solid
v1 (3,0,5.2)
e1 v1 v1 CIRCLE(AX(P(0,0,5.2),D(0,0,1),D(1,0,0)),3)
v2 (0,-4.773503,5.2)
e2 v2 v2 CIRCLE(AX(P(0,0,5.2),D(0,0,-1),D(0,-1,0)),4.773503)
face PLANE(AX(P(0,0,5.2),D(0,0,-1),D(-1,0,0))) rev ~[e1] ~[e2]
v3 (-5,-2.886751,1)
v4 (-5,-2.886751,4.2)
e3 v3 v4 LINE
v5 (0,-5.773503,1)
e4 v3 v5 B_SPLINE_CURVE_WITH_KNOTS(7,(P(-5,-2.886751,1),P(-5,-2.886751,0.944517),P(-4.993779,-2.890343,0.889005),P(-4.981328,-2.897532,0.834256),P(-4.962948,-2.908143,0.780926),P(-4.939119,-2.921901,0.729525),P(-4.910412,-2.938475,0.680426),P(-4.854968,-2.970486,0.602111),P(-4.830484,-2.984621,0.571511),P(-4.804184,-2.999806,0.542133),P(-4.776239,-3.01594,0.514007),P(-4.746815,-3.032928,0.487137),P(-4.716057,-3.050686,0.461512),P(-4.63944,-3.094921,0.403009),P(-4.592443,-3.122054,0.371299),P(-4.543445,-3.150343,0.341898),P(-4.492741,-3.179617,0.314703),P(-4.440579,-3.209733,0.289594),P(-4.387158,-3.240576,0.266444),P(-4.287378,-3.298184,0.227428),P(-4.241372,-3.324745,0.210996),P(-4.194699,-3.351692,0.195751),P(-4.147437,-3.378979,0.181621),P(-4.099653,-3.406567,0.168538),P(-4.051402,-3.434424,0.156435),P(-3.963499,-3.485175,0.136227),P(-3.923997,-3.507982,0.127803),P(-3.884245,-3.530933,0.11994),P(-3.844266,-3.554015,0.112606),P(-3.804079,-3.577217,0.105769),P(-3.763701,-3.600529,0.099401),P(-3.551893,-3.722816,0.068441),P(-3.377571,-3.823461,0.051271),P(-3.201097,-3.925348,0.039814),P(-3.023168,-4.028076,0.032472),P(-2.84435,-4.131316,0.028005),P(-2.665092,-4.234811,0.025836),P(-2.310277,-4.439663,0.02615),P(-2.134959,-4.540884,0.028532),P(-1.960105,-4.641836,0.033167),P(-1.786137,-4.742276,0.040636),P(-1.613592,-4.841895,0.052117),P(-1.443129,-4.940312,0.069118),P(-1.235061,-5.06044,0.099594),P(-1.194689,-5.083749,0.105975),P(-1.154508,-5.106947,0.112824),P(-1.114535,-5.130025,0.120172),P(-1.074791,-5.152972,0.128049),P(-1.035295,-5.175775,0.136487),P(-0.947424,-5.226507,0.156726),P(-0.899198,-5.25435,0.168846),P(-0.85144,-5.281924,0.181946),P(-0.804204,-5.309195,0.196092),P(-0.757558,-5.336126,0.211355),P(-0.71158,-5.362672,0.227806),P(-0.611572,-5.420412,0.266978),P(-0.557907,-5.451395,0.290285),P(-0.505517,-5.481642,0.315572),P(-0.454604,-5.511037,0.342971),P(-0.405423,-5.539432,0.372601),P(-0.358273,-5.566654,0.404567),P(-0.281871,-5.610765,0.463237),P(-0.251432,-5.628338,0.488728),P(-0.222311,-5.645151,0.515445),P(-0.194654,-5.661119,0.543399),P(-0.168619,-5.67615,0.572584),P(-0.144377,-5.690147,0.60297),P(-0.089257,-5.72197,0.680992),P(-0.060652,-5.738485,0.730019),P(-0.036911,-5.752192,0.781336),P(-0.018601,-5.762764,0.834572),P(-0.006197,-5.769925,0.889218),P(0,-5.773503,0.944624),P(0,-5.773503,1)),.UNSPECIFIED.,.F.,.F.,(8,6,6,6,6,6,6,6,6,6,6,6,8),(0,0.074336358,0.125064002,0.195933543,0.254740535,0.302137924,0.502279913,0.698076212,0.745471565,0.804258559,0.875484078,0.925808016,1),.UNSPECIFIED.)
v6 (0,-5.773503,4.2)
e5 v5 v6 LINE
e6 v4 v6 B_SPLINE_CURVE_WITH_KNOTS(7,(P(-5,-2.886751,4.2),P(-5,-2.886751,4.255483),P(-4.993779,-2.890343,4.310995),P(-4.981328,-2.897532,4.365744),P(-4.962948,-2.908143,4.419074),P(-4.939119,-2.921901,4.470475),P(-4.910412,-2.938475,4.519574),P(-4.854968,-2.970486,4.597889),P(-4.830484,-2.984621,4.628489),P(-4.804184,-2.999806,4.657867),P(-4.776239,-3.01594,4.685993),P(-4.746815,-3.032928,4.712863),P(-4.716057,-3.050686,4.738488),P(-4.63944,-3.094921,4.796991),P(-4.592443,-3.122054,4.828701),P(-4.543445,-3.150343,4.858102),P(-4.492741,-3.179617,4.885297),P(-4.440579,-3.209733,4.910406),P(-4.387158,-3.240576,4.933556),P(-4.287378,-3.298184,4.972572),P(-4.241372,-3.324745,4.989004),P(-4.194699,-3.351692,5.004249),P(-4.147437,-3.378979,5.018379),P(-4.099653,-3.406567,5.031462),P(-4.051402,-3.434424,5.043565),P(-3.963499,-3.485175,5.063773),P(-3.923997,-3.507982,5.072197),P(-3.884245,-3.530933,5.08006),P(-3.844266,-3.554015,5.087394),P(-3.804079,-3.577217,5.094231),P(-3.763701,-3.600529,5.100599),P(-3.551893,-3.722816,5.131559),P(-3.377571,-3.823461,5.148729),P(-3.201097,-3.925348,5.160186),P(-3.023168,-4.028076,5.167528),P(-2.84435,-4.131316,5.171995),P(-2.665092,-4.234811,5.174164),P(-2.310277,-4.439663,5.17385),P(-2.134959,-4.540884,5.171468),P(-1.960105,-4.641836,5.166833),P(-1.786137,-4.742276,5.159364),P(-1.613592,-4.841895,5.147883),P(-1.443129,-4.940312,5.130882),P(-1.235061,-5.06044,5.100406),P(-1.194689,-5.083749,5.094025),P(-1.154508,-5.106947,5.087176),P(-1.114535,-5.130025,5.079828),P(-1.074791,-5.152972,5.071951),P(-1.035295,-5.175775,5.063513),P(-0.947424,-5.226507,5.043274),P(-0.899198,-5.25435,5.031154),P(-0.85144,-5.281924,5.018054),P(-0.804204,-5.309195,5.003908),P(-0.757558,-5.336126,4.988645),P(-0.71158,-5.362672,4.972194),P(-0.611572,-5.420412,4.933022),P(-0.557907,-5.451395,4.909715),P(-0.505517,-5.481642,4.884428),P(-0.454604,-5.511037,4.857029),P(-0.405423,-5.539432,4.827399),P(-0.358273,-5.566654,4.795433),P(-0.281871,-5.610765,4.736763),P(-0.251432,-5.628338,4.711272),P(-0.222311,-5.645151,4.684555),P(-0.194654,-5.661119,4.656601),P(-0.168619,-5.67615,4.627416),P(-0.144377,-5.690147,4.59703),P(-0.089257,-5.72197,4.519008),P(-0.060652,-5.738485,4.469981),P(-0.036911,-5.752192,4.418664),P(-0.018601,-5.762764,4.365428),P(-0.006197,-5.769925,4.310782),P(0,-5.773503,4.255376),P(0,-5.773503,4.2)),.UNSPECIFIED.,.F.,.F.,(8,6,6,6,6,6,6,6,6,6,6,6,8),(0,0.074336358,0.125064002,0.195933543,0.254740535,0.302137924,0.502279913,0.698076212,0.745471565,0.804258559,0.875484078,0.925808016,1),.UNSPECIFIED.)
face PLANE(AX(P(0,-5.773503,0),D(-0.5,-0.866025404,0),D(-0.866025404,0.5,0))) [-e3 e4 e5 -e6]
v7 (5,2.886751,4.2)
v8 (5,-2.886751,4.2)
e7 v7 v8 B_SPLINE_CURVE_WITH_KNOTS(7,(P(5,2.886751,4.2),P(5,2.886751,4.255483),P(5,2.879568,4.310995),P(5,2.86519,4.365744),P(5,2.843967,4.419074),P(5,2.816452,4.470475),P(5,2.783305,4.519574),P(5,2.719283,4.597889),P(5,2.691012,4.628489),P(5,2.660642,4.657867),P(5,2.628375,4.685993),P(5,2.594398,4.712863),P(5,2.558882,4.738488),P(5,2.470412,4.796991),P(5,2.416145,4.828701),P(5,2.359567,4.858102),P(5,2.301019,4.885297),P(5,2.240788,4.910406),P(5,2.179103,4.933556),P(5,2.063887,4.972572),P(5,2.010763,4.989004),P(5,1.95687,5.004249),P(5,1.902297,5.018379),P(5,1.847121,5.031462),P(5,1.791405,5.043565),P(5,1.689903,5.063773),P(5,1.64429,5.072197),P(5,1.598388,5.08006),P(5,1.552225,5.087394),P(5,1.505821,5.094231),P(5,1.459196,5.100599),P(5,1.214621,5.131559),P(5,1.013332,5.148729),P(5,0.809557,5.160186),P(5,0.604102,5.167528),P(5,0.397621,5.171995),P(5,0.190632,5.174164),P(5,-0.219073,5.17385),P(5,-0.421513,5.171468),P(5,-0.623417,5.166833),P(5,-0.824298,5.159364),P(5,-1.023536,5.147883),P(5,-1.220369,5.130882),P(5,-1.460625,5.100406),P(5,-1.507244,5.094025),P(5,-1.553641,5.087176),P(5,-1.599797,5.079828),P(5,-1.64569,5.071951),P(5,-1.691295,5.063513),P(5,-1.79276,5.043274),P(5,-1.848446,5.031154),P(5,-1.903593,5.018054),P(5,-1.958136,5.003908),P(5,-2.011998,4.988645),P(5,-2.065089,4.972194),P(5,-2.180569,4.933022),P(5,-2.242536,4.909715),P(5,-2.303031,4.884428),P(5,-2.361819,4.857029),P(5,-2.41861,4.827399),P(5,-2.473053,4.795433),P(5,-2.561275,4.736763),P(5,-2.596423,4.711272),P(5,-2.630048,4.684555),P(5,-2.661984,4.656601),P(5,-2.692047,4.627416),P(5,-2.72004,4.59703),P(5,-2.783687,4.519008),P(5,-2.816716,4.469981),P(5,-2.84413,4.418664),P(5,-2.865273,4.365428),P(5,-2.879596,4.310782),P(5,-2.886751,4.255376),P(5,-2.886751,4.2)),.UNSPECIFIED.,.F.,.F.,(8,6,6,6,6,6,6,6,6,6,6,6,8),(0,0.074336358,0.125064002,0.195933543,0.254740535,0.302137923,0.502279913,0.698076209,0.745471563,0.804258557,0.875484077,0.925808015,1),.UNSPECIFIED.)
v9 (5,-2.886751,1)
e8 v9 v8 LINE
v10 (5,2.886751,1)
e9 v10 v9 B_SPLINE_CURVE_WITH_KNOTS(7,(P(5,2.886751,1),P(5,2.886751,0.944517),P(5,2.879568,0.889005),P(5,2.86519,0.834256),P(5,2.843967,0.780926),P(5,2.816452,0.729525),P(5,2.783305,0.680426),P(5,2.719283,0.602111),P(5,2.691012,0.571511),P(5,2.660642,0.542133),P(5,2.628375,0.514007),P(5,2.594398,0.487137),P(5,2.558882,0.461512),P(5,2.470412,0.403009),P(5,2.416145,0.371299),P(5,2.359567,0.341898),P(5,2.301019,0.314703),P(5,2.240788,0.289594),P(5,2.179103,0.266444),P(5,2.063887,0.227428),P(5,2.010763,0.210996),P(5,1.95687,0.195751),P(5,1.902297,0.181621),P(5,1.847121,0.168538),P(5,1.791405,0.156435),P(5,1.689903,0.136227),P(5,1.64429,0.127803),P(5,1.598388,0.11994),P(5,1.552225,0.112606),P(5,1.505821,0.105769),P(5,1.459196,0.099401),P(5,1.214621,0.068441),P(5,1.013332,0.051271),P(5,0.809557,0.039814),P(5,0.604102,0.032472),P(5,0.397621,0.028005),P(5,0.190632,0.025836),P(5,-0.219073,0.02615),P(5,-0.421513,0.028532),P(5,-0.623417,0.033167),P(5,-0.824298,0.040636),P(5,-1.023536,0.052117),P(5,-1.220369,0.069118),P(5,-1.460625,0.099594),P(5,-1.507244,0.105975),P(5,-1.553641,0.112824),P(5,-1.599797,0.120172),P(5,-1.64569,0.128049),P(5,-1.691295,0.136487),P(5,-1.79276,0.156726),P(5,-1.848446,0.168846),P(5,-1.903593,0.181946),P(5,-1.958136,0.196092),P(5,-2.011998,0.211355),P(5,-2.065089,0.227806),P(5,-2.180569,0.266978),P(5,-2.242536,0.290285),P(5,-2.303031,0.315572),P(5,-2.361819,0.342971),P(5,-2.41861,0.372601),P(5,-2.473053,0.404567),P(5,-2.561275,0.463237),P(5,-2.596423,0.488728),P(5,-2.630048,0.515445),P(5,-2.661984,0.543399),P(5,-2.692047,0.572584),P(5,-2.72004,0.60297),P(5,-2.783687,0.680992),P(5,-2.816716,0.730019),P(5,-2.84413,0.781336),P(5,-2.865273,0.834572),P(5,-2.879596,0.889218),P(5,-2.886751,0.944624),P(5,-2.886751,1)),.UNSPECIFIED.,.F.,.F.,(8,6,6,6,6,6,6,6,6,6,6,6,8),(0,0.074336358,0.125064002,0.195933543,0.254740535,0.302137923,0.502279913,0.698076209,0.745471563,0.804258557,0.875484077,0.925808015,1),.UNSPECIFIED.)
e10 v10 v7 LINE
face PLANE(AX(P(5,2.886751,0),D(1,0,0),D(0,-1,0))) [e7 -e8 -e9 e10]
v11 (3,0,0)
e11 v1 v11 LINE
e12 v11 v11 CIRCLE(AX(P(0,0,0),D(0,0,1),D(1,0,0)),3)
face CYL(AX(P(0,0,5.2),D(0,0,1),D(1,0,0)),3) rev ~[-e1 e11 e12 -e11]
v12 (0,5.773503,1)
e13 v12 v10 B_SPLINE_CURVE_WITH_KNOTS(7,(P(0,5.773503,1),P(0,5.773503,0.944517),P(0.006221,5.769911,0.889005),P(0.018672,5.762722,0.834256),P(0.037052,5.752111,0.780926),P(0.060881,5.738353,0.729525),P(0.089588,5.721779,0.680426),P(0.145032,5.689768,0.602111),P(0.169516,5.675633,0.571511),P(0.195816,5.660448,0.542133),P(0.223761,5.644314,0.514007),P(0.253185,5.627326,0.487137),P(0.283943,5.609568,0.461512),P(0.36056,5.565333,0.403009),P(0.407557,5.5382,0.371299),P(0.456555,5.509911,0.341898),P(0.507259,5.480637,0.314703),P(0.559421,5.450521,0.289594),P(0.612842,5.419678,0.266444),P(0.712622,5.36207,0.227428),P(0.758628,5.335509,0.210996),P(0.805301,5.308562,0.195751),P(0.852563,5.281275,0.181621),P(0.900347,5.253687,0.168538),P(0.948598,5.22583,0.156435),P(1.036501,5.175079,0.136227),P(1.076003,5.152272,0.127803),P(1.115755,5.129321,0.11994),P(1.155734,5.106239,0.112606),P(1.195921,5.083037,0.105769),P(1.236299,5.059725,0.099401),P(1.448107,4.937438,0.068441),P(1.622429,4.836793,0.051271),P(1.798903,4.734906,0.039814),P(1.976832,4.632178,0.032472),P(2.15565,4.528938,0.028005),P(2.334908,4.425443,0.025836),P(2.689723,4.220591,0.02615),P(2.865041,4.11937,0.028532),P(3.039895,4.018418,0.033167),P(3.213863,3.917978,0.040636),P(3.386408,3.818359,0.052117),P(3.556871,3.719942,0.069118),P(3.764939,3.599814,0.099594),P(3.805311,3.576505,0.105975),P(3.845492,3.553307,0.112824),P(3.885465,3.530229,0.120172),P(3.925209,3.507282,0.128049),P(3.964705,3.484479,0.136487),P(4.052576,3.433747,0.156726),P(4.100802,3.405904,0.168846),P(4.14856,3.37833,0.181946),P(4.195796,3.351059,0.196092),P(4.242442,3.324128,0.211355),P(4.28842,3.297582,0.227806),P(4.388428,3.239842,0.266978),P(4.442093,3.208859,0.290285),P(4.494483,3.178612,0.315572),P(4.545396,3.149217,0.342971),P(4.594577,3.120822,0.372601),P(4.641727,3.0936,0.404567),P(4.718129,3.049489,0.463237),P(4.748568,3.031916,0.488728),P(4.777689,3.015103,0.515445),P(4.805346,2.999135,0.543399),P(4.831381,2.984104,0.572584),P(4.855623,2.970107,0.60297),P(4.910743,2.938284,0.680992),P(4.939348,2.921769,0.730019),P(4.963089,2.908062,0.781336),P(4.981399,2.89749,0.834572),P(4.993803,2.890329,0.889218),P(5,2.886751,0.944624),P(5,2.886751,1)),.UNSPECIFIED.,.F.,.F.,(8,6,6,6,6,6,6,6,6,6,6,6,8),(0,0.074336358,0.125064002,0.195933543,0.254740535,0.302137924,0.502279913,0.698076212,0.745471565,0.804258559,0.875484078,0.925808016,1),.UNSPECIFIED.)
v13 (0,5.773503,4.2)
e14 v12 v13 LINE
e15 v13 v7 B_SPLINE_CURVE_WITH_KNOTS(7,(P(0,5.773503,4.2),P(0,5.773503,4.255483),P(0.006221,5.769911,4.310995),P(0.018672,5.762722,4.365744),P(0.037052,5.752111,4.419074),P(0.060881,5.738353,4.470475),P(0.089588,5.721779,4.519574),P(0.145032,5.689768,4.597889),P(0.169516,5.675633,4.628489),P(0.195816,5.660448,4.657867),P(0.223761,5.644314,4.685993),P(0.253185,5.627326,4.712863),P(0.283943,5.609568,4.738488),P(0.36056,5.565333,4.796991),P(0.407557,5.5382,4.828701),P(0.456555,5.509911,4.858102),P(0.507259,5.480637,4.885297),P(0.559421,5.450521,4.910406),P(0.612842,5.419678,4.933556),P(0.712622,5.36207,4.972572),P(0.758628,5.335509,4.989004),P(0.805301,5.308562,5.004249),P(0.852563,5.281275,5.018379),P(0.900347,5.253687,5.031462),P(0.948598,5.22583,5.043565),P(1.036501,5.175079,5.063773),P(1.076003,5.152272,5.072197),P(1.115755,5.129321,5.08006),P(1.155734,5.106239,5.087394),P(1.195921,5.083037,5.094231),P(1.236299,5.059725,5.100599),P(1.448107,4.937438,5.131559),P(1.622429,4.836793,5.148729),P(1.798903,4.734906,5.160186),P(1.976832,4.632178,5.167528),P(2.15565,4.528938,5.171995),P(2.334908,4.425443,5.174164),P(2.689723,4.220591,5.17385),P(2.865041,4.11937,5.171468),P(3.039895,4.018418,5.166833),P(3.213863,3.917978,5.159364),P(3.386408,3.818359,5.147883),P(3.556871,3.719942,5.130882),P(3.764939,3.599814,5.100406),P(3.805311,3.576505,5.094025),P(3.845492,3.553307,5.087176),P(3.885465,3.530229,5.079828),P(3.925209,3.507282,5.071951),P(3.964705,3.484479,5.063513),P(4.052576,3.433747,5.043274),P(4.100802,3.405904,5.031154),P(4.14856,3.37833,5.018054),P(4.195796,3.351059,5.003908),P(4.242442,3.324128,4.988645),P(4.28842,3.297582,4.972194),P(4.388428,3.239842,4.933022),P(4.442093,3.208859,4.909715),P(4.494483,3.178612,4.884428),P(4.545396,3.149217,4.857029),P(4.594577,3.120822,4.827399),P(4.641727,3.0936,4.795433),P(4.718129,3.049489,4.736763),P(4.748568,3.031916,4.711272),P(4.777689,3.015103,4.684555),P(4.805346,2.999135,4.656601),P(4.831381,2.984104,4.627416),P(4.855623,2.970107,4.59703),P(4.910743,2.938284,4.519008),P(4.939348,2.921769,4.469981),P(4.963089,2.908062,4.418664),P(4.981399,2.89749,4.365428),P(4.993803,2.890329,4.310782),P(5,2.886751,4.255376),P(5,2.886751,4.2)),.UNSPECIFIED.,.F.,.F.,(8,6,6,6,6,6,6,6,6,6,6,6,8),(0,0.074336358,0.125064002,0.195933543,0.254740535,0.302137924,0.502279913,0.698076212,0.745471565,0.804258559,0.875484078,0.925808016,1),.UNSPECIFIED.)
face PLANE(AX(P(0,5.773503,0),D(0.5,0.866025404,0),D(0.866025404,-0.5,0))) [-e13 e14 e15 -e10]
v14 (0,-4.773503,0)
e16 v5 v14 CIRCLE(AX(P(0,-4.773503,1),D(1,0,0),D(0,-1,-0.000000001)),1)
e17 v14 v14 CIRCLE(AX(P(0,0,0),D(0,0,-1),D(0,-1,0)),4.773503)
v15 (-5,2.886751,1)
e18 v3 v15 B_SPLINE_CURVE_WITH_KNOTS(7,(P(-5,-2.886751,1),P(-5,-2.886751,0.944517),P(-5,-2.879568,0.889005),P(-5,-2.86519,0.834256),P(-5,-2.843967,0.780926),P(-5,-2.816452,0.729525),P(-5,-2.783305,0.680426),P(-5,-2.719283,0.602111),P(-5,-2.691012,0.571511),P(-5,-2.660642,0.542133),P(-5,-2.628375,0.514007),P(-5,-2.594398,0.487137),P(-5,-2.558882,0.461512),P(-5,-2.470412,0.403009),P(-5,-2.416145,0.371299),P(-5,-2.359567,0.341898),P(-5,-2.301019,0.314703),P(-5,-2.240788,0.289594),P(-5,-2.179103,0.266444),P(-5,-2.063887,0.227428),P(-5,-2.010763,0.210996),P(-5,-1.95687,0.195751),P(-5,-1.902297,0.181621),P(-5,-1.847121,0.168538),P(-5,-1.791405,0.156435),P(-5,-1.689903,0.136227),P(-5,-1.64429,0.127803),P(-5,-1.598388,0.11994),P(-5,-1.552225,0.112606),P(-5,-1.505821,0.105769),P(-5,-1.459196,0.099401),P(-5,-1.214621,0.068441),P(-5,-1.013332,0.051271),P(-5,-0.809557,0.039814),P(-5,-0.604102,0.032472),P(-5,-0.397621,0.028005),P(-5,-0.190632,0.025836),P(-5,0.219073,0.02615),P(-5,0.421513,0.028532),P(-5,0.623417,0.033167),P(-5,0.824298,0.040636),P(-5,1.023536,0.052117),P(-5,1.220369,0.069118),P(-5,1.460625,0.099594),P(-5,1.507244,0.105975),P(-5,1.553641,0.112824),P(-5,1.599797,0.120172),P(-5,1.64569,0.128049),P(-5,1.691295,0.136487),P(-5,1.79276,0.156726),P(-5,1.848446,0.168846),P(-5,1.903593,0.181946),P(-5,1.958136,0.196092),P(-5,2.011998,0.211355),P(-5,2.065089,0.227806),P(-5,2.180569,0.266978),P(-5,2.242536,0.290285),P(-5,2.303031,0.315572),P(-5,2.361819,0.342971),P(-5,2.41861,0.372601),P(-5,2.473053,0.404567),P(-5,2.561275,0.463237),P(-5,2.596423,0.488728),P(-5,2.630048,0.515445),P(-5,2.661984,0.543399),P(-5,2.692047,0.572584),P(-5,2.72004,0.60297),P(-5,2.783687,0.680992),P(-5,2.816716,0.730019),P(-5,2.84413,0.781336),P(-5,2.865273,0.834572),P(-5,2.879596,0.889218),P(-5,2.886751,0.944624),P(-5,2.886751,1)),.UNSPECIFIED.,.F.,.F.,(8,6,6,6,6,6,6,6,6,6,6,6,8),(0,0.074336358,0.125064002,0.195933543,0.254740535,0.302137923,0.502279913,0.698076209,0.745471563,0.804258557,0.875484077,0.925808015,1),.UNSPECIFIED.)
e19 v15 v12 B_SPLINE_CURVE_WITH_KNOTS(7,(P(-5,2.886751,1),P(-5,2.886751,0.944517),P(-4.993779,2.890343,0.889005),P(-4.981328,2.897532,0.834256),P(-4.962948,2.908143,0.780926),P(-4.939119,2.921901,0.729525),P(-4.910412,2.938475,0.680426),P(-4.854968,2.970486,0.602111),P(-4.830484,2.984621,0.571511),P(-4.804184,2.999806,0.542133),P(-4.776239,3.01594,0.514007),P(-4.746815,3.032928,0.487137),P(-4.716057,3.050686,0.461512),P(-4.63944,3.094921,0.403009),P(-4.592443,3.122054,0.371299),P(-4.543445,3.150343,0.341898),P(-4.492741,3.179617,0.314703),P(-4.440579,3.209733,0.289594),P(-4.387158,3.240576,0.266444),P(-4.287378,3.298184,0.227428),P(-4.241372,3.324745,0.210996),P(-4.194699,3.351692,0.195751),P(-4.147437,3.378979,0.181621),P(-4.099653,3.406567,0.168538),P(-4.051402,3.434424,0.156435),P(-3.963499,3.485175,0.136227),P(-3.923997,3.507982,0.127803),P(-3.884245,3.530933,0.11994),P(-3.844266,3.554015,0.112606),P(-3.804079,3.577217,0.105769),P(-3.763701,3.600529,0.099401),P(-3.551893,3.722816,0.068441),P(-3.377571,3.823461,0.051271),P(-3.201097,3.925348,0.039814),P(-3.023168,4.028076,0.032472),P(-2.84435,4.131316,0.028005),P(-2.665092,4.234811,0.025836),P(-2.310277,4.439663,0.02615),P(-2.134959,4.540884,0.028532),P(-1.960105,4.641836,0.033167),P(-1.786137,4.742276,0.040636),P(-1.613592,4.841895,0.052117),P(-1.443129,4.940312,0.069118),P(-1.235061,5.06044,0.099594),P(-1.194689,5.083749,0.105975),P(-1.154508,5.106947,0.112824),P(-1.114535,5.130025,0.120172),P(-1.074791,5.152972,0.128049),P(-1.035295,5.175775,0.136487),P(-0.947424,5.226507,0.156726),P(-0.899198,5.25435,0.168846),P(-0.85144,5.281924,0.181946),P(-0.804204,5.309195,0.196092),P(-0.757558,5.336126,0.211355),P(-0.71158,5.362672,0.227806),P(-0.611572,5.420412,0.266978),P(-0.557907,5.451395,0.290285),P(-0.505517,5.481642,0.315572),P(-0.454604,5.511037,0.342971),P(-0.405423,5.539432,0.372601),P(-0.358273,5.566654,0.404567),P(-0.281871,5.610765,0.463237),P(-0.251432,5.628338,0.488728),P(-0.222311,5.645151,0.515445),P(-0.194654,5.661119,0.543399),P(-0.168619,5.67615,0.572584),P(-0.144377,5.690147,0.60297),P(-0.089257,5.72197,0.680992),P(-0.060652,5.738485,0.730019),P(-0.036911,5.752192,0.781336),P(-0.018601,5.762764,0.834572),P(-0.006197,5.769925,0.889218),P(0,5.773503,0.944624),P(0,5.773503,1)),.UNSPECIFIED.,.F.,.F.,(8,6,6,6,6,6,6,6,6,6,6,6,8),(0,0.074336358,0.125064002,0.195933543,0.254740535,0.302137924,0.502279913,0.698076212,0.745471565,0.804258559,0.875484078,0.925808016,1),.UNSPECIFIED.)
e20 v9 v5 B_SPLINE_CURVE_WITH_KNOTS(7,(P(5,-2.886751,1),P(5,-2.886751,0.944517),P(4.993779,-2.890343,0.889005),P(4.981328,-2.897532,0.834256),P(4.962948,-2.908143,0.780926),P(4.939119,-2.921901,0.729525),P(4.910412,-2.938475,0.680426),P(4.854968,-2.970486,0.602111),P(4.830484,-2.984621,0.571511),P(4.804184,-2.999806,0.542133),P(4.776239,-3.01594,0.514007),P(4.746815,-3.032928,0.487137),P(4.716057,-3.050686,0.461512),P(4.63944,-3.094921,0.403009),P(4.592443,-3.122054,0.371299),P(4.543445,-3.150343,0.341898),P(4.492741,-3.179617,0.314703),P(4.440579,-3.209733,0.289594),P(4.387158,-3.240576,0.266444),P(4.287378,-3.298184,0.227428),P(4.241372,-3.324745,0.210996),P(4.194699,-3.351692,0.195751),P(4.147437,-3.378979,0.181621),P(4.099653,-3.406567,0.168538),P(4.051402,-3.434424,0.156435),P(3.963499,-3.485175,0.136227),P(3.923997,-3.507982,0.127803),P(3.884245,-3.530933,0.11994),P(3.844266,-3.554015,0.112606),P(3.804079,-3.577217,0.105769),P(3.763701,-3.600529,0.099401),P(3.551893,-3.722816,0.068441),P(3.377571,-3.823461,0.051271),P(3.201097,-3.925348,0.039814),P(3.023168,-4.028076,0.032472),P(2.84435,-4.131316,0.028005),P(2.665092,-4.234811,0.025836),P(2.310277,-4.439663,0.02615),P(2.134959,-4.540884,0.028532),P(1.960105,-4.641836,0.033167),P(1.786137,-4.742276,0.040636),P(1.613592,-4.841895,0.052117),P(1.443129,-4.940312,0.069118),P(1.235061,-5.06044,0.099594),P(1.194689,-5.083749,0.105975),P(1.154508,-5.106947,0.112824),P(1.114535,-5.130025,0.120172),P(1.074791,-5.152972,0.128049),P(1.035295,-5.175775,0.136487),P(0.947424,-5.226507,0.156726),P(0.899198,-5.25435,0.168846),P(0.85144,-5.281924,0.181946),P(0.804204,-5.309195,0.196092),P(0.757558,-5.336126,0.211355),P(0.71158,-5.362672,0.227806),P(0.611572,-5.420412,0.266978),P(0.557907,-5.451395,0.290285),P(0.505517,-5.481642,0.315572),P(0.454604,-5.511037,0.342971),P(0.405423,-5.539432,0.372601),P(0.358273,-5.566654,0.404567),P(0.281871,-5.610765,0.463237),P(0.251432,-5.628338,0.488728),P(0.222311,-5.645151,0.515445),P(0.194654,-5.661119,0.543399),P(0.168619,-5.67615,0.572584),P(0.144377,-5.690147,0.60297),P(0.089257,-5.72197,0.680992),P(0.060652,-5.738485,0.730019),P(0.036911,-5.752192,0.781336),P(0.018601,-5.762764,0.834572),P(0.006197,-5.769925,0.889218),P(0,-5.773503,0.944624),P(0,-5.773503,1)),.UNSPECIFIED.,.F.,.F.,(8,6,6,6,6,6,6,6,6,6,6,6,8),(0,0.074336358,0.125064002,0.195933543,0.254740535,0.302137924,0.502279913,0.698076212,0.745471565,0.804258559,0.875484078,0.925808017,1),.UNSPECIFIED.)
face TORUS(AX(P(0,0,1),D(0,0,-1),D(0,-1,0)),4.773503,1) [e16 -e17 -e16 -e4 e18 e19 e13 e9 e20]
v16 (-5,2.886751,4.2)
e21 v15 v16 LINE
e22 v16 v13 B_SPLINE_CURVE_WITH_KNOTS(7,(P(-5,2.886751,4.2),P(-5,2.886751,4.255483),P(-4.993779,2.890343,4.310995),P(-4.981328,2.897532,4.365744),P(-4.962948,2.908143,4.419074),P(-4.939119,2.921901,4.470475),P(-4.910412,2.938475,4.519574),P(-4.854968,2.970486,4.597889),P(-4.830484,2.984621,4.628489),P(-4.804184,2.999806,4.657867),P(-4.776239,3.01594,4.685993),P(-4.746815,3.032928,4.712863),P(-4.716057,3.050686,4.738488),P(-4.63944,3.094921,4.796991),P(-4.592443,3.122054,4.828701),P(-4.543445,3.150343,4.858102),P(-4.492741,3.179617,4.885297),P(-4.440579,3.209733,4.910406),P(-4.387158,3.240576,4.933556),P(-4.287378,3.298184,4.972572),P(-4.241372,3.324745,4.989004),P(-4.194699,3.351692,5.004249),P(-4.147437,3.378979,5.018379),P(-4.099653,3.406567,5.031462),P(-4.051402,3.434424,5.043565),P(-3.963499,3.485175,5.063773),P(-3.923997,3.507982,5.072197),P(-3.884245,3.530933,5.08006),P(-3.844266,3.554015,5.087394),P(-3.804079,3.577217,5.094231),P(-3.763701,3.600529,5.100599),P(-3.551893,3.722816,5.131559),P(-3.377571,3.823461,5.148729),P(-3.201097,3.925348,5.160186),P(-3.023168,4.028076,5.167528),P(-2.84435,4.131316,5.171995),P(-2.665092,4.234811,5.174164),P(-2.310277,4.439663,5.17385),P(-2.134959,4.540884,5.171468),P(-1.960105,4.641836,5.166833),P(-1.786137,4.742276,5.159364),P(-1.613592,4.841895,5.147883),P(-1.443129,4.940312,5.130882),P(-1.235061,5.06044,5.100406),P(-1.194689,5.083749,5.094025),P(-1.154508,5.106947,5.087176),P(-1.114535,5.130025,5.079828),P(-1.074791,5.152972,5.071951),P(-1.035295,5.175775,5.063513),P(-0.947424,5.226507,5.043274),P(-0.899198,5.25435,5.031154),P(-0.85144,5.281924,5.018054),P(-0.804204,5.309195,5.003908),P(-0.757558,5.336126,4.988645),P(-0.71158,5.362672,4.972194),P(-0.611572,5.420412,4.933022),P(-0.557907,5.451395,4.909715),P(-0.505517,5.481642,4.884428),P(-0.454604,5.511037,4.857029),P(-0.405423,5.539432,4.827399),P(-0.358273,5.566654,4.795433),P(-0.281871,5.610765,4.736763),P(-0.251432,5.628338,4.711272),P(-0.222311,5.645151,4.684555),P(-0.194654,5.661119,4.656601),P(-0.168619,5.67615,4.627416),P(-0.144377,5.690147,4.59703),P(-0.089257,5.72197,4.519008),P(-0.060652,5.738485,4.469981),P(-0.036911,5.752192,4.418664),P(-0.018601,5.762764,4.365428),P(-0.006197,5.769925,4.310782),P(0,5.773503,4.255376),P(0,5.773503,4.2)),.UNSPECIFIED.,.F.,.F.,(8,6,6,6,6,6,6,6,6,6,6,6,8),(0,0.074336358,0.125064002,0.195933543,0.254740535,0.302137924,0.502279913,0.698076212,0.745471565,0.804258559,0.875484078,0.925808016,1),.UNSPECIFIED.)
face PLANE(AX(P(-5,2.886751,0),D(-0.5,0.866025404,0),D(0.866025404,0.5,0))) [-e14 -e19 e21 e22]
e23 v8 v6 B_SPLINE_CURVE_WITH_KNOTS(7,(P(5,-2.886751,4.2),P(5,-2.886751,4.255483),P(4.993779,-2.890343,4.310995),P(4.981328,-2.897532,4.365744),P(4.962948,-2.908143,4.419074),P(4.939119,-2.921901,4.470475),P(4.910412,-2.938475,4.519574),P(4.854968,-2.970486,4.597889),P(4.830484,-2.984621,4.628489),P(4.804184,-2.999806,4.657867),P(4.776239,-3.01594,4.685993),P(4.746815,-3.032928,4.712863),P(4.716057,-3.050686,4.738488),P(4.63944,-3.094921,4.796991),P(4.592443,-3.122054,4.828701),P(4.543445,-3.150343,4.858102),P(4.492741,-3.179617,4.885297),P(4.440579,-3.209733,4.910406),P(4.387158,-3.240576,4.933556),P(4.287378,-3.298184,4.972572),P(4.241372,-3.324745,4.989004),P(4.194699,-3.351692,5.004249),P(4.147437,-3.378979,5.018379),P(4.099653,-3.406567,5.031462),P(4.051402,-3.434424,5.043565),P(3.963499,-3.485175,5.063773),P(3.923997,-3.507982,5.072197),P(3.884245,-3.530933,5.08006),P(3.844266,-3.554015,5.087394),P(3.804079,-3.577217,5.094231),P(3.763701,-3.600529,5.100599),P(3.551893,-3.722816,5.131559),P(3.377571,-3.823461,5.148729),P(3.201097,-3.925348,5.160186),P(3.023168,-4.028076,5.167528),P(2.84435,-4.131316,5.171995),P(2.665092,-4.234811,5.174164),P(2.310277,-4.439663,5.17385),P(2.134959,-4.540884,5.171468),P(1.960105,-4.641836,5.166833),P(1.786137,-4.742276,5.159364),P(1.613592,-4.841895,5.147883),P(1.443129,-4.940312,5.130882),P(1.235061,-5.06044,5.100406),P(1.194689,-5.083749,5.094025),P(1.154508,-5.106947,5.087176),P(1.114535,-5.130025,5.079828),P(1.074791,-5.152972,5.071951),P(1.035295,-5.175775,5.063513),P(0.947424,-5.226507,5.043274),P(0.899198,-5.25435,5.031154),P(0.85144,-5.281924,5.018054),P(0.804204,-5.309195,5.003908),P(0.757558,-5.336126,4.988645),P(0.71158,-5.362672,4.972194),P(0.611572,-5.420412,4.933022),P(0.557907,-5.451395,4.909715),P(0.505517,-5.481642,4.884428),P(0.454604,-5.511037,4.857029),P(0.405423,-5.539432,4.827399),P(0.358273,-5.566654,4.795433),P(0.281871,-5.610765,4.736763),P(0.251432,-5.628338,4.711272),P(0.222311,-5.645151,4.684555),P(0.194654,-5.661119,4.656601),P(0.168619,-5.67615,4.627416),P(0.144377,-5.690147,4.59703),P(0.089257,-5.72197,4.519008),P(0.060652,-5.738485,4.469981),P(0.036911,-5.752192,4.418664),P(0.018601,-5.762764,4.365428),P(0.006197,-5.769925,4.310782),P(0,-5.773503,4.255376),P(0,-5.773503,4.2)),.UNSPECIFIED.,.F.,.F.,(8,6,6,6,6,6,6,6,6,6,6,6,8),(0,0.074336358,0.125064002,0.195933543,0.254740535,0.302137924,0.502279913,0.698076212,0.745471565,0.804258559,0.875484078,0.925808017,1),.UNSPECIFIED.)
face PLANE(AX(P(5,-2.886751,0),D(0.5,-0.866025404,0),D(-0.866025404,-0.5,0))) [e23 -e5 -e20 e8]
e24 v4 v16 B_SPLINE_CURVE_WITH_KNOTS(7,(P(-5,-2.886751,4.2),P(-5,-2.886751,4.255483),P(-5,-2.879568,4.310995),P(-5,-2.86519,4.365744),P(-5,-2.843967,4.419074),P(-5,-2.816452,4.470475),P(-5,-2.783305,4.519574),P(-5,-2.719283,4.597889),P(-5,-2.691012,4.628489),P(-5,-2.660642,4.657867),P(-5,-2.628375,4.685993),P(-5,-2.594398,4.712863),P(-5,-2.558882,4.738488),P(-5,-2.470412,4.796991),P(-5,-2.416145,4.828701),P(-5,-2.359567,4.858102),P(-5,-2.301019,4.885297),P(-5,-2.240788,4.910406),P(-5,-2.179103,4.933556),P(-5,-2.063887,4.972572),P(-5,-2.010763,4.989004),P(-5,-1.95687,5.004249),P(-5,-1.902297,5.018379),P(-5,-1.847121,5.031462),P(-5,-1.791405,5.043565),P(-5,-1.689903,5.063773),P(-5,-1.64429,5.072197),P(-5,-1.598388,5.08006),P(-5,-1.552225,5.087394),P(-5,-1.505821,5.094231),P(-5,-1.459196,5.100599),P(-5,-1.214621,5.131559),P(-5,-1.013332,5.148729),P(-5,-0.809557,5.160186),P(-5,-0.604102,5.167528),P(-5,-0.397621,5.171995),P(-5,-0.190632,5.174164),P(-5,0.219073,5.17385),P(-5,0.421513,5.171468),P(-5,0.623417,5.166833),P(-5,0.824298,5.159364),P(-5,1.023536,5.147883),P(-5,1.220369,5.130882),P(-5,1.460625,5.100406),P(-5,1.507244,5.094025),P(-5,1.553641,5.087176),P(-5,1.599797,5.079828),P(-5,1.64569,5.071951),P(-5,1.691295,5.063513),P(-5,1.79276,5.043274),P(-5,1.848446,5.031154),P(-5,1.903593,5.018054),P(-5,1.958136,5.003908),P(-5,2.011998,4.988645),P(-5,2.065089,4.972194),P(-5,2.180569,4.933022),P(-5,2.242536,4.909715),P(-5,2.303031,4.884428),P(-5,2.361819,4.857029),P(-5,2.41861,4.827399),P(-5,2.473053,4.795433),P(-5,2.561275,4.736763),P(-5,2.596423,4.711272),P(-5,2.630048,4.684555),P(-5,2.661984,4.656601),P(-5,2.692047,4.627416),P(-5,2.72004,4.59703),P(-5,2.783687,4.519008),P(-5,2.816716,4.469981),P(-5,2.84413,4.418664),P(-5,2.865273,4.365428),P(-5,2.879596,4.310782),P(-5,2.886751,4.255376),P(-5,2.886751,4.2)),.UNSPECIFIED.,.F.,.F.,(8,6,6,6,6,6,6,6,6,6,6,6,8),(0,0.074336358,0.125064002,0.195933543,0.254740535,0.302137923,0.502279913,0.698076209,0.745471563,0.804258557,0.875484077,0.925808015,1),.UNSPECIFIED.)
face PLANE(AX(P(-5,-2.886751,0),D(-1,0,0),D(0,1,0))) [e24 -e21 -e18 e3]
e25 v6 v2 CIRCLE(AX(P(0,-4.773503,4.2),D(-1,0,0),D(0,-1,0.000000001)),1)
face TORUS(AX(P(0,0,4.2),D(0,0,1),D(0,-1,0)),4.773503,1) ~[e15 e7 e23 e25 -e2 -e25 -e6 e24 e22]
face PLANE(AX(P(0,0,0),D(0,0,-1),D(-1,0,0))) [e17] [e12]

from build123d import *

# Parameters (mm, degrees)
HEAD_DEPTH         = 5.2
HOLE_SKETCH_R      = 3
THROUGH_HOLE_DEPTH = 6.2000001


with BuildPart() as part:
    # Head Sketch → Head (new body)
    with BuildSketch(Plane.XY):
        Polygon((0, 5.773502692), (5, 2.886751346), (5, -2.886751346), (0, -5.773502692), (-5, -2.886751346), (-5, 2.886751346), align=None)
    extrude(amount=HEAD_DEPTH)

    # Sketch5 → Head Trim (revolve, cut)
    with BuildSketch(Plane(origin=(0, 0, 0), x_dir=(0, 0, -1), z_dir=(1, 0, 0))):
        with BuildLine():
            Line((-5.2, -4.773502692), (-5.2, -5.773502692))
            Line((-5.2, -5.773502692), (-4.2, -5.773502692))
            ThreePointArc((-4.2, -5.773502692), (-4.907106781, -5.480609473), (-5.2, -4.773502692))
        make_face()
    head_trim = revolve(axis=Axis((0, 0, 15.085599173), (0, 0, -1)), mode=Mode.SUBTRACT)

    # Hole Sketch → Through Hole (cut, through all)
    with BuildSketch(Plane.XY.offset(5.2)):
        Circle(HOLE_SKETCH_R)
    extrude(amount=-THROUGH_HOLE_DEPTH, mode=Mode.SUBTRACT)

    # Symétrie2: Head Trim across plane
    add(head_trim.mirror(Plane.XY.offset(2.6)), mode=Mode.SUBTRACT)


solid = part.part
